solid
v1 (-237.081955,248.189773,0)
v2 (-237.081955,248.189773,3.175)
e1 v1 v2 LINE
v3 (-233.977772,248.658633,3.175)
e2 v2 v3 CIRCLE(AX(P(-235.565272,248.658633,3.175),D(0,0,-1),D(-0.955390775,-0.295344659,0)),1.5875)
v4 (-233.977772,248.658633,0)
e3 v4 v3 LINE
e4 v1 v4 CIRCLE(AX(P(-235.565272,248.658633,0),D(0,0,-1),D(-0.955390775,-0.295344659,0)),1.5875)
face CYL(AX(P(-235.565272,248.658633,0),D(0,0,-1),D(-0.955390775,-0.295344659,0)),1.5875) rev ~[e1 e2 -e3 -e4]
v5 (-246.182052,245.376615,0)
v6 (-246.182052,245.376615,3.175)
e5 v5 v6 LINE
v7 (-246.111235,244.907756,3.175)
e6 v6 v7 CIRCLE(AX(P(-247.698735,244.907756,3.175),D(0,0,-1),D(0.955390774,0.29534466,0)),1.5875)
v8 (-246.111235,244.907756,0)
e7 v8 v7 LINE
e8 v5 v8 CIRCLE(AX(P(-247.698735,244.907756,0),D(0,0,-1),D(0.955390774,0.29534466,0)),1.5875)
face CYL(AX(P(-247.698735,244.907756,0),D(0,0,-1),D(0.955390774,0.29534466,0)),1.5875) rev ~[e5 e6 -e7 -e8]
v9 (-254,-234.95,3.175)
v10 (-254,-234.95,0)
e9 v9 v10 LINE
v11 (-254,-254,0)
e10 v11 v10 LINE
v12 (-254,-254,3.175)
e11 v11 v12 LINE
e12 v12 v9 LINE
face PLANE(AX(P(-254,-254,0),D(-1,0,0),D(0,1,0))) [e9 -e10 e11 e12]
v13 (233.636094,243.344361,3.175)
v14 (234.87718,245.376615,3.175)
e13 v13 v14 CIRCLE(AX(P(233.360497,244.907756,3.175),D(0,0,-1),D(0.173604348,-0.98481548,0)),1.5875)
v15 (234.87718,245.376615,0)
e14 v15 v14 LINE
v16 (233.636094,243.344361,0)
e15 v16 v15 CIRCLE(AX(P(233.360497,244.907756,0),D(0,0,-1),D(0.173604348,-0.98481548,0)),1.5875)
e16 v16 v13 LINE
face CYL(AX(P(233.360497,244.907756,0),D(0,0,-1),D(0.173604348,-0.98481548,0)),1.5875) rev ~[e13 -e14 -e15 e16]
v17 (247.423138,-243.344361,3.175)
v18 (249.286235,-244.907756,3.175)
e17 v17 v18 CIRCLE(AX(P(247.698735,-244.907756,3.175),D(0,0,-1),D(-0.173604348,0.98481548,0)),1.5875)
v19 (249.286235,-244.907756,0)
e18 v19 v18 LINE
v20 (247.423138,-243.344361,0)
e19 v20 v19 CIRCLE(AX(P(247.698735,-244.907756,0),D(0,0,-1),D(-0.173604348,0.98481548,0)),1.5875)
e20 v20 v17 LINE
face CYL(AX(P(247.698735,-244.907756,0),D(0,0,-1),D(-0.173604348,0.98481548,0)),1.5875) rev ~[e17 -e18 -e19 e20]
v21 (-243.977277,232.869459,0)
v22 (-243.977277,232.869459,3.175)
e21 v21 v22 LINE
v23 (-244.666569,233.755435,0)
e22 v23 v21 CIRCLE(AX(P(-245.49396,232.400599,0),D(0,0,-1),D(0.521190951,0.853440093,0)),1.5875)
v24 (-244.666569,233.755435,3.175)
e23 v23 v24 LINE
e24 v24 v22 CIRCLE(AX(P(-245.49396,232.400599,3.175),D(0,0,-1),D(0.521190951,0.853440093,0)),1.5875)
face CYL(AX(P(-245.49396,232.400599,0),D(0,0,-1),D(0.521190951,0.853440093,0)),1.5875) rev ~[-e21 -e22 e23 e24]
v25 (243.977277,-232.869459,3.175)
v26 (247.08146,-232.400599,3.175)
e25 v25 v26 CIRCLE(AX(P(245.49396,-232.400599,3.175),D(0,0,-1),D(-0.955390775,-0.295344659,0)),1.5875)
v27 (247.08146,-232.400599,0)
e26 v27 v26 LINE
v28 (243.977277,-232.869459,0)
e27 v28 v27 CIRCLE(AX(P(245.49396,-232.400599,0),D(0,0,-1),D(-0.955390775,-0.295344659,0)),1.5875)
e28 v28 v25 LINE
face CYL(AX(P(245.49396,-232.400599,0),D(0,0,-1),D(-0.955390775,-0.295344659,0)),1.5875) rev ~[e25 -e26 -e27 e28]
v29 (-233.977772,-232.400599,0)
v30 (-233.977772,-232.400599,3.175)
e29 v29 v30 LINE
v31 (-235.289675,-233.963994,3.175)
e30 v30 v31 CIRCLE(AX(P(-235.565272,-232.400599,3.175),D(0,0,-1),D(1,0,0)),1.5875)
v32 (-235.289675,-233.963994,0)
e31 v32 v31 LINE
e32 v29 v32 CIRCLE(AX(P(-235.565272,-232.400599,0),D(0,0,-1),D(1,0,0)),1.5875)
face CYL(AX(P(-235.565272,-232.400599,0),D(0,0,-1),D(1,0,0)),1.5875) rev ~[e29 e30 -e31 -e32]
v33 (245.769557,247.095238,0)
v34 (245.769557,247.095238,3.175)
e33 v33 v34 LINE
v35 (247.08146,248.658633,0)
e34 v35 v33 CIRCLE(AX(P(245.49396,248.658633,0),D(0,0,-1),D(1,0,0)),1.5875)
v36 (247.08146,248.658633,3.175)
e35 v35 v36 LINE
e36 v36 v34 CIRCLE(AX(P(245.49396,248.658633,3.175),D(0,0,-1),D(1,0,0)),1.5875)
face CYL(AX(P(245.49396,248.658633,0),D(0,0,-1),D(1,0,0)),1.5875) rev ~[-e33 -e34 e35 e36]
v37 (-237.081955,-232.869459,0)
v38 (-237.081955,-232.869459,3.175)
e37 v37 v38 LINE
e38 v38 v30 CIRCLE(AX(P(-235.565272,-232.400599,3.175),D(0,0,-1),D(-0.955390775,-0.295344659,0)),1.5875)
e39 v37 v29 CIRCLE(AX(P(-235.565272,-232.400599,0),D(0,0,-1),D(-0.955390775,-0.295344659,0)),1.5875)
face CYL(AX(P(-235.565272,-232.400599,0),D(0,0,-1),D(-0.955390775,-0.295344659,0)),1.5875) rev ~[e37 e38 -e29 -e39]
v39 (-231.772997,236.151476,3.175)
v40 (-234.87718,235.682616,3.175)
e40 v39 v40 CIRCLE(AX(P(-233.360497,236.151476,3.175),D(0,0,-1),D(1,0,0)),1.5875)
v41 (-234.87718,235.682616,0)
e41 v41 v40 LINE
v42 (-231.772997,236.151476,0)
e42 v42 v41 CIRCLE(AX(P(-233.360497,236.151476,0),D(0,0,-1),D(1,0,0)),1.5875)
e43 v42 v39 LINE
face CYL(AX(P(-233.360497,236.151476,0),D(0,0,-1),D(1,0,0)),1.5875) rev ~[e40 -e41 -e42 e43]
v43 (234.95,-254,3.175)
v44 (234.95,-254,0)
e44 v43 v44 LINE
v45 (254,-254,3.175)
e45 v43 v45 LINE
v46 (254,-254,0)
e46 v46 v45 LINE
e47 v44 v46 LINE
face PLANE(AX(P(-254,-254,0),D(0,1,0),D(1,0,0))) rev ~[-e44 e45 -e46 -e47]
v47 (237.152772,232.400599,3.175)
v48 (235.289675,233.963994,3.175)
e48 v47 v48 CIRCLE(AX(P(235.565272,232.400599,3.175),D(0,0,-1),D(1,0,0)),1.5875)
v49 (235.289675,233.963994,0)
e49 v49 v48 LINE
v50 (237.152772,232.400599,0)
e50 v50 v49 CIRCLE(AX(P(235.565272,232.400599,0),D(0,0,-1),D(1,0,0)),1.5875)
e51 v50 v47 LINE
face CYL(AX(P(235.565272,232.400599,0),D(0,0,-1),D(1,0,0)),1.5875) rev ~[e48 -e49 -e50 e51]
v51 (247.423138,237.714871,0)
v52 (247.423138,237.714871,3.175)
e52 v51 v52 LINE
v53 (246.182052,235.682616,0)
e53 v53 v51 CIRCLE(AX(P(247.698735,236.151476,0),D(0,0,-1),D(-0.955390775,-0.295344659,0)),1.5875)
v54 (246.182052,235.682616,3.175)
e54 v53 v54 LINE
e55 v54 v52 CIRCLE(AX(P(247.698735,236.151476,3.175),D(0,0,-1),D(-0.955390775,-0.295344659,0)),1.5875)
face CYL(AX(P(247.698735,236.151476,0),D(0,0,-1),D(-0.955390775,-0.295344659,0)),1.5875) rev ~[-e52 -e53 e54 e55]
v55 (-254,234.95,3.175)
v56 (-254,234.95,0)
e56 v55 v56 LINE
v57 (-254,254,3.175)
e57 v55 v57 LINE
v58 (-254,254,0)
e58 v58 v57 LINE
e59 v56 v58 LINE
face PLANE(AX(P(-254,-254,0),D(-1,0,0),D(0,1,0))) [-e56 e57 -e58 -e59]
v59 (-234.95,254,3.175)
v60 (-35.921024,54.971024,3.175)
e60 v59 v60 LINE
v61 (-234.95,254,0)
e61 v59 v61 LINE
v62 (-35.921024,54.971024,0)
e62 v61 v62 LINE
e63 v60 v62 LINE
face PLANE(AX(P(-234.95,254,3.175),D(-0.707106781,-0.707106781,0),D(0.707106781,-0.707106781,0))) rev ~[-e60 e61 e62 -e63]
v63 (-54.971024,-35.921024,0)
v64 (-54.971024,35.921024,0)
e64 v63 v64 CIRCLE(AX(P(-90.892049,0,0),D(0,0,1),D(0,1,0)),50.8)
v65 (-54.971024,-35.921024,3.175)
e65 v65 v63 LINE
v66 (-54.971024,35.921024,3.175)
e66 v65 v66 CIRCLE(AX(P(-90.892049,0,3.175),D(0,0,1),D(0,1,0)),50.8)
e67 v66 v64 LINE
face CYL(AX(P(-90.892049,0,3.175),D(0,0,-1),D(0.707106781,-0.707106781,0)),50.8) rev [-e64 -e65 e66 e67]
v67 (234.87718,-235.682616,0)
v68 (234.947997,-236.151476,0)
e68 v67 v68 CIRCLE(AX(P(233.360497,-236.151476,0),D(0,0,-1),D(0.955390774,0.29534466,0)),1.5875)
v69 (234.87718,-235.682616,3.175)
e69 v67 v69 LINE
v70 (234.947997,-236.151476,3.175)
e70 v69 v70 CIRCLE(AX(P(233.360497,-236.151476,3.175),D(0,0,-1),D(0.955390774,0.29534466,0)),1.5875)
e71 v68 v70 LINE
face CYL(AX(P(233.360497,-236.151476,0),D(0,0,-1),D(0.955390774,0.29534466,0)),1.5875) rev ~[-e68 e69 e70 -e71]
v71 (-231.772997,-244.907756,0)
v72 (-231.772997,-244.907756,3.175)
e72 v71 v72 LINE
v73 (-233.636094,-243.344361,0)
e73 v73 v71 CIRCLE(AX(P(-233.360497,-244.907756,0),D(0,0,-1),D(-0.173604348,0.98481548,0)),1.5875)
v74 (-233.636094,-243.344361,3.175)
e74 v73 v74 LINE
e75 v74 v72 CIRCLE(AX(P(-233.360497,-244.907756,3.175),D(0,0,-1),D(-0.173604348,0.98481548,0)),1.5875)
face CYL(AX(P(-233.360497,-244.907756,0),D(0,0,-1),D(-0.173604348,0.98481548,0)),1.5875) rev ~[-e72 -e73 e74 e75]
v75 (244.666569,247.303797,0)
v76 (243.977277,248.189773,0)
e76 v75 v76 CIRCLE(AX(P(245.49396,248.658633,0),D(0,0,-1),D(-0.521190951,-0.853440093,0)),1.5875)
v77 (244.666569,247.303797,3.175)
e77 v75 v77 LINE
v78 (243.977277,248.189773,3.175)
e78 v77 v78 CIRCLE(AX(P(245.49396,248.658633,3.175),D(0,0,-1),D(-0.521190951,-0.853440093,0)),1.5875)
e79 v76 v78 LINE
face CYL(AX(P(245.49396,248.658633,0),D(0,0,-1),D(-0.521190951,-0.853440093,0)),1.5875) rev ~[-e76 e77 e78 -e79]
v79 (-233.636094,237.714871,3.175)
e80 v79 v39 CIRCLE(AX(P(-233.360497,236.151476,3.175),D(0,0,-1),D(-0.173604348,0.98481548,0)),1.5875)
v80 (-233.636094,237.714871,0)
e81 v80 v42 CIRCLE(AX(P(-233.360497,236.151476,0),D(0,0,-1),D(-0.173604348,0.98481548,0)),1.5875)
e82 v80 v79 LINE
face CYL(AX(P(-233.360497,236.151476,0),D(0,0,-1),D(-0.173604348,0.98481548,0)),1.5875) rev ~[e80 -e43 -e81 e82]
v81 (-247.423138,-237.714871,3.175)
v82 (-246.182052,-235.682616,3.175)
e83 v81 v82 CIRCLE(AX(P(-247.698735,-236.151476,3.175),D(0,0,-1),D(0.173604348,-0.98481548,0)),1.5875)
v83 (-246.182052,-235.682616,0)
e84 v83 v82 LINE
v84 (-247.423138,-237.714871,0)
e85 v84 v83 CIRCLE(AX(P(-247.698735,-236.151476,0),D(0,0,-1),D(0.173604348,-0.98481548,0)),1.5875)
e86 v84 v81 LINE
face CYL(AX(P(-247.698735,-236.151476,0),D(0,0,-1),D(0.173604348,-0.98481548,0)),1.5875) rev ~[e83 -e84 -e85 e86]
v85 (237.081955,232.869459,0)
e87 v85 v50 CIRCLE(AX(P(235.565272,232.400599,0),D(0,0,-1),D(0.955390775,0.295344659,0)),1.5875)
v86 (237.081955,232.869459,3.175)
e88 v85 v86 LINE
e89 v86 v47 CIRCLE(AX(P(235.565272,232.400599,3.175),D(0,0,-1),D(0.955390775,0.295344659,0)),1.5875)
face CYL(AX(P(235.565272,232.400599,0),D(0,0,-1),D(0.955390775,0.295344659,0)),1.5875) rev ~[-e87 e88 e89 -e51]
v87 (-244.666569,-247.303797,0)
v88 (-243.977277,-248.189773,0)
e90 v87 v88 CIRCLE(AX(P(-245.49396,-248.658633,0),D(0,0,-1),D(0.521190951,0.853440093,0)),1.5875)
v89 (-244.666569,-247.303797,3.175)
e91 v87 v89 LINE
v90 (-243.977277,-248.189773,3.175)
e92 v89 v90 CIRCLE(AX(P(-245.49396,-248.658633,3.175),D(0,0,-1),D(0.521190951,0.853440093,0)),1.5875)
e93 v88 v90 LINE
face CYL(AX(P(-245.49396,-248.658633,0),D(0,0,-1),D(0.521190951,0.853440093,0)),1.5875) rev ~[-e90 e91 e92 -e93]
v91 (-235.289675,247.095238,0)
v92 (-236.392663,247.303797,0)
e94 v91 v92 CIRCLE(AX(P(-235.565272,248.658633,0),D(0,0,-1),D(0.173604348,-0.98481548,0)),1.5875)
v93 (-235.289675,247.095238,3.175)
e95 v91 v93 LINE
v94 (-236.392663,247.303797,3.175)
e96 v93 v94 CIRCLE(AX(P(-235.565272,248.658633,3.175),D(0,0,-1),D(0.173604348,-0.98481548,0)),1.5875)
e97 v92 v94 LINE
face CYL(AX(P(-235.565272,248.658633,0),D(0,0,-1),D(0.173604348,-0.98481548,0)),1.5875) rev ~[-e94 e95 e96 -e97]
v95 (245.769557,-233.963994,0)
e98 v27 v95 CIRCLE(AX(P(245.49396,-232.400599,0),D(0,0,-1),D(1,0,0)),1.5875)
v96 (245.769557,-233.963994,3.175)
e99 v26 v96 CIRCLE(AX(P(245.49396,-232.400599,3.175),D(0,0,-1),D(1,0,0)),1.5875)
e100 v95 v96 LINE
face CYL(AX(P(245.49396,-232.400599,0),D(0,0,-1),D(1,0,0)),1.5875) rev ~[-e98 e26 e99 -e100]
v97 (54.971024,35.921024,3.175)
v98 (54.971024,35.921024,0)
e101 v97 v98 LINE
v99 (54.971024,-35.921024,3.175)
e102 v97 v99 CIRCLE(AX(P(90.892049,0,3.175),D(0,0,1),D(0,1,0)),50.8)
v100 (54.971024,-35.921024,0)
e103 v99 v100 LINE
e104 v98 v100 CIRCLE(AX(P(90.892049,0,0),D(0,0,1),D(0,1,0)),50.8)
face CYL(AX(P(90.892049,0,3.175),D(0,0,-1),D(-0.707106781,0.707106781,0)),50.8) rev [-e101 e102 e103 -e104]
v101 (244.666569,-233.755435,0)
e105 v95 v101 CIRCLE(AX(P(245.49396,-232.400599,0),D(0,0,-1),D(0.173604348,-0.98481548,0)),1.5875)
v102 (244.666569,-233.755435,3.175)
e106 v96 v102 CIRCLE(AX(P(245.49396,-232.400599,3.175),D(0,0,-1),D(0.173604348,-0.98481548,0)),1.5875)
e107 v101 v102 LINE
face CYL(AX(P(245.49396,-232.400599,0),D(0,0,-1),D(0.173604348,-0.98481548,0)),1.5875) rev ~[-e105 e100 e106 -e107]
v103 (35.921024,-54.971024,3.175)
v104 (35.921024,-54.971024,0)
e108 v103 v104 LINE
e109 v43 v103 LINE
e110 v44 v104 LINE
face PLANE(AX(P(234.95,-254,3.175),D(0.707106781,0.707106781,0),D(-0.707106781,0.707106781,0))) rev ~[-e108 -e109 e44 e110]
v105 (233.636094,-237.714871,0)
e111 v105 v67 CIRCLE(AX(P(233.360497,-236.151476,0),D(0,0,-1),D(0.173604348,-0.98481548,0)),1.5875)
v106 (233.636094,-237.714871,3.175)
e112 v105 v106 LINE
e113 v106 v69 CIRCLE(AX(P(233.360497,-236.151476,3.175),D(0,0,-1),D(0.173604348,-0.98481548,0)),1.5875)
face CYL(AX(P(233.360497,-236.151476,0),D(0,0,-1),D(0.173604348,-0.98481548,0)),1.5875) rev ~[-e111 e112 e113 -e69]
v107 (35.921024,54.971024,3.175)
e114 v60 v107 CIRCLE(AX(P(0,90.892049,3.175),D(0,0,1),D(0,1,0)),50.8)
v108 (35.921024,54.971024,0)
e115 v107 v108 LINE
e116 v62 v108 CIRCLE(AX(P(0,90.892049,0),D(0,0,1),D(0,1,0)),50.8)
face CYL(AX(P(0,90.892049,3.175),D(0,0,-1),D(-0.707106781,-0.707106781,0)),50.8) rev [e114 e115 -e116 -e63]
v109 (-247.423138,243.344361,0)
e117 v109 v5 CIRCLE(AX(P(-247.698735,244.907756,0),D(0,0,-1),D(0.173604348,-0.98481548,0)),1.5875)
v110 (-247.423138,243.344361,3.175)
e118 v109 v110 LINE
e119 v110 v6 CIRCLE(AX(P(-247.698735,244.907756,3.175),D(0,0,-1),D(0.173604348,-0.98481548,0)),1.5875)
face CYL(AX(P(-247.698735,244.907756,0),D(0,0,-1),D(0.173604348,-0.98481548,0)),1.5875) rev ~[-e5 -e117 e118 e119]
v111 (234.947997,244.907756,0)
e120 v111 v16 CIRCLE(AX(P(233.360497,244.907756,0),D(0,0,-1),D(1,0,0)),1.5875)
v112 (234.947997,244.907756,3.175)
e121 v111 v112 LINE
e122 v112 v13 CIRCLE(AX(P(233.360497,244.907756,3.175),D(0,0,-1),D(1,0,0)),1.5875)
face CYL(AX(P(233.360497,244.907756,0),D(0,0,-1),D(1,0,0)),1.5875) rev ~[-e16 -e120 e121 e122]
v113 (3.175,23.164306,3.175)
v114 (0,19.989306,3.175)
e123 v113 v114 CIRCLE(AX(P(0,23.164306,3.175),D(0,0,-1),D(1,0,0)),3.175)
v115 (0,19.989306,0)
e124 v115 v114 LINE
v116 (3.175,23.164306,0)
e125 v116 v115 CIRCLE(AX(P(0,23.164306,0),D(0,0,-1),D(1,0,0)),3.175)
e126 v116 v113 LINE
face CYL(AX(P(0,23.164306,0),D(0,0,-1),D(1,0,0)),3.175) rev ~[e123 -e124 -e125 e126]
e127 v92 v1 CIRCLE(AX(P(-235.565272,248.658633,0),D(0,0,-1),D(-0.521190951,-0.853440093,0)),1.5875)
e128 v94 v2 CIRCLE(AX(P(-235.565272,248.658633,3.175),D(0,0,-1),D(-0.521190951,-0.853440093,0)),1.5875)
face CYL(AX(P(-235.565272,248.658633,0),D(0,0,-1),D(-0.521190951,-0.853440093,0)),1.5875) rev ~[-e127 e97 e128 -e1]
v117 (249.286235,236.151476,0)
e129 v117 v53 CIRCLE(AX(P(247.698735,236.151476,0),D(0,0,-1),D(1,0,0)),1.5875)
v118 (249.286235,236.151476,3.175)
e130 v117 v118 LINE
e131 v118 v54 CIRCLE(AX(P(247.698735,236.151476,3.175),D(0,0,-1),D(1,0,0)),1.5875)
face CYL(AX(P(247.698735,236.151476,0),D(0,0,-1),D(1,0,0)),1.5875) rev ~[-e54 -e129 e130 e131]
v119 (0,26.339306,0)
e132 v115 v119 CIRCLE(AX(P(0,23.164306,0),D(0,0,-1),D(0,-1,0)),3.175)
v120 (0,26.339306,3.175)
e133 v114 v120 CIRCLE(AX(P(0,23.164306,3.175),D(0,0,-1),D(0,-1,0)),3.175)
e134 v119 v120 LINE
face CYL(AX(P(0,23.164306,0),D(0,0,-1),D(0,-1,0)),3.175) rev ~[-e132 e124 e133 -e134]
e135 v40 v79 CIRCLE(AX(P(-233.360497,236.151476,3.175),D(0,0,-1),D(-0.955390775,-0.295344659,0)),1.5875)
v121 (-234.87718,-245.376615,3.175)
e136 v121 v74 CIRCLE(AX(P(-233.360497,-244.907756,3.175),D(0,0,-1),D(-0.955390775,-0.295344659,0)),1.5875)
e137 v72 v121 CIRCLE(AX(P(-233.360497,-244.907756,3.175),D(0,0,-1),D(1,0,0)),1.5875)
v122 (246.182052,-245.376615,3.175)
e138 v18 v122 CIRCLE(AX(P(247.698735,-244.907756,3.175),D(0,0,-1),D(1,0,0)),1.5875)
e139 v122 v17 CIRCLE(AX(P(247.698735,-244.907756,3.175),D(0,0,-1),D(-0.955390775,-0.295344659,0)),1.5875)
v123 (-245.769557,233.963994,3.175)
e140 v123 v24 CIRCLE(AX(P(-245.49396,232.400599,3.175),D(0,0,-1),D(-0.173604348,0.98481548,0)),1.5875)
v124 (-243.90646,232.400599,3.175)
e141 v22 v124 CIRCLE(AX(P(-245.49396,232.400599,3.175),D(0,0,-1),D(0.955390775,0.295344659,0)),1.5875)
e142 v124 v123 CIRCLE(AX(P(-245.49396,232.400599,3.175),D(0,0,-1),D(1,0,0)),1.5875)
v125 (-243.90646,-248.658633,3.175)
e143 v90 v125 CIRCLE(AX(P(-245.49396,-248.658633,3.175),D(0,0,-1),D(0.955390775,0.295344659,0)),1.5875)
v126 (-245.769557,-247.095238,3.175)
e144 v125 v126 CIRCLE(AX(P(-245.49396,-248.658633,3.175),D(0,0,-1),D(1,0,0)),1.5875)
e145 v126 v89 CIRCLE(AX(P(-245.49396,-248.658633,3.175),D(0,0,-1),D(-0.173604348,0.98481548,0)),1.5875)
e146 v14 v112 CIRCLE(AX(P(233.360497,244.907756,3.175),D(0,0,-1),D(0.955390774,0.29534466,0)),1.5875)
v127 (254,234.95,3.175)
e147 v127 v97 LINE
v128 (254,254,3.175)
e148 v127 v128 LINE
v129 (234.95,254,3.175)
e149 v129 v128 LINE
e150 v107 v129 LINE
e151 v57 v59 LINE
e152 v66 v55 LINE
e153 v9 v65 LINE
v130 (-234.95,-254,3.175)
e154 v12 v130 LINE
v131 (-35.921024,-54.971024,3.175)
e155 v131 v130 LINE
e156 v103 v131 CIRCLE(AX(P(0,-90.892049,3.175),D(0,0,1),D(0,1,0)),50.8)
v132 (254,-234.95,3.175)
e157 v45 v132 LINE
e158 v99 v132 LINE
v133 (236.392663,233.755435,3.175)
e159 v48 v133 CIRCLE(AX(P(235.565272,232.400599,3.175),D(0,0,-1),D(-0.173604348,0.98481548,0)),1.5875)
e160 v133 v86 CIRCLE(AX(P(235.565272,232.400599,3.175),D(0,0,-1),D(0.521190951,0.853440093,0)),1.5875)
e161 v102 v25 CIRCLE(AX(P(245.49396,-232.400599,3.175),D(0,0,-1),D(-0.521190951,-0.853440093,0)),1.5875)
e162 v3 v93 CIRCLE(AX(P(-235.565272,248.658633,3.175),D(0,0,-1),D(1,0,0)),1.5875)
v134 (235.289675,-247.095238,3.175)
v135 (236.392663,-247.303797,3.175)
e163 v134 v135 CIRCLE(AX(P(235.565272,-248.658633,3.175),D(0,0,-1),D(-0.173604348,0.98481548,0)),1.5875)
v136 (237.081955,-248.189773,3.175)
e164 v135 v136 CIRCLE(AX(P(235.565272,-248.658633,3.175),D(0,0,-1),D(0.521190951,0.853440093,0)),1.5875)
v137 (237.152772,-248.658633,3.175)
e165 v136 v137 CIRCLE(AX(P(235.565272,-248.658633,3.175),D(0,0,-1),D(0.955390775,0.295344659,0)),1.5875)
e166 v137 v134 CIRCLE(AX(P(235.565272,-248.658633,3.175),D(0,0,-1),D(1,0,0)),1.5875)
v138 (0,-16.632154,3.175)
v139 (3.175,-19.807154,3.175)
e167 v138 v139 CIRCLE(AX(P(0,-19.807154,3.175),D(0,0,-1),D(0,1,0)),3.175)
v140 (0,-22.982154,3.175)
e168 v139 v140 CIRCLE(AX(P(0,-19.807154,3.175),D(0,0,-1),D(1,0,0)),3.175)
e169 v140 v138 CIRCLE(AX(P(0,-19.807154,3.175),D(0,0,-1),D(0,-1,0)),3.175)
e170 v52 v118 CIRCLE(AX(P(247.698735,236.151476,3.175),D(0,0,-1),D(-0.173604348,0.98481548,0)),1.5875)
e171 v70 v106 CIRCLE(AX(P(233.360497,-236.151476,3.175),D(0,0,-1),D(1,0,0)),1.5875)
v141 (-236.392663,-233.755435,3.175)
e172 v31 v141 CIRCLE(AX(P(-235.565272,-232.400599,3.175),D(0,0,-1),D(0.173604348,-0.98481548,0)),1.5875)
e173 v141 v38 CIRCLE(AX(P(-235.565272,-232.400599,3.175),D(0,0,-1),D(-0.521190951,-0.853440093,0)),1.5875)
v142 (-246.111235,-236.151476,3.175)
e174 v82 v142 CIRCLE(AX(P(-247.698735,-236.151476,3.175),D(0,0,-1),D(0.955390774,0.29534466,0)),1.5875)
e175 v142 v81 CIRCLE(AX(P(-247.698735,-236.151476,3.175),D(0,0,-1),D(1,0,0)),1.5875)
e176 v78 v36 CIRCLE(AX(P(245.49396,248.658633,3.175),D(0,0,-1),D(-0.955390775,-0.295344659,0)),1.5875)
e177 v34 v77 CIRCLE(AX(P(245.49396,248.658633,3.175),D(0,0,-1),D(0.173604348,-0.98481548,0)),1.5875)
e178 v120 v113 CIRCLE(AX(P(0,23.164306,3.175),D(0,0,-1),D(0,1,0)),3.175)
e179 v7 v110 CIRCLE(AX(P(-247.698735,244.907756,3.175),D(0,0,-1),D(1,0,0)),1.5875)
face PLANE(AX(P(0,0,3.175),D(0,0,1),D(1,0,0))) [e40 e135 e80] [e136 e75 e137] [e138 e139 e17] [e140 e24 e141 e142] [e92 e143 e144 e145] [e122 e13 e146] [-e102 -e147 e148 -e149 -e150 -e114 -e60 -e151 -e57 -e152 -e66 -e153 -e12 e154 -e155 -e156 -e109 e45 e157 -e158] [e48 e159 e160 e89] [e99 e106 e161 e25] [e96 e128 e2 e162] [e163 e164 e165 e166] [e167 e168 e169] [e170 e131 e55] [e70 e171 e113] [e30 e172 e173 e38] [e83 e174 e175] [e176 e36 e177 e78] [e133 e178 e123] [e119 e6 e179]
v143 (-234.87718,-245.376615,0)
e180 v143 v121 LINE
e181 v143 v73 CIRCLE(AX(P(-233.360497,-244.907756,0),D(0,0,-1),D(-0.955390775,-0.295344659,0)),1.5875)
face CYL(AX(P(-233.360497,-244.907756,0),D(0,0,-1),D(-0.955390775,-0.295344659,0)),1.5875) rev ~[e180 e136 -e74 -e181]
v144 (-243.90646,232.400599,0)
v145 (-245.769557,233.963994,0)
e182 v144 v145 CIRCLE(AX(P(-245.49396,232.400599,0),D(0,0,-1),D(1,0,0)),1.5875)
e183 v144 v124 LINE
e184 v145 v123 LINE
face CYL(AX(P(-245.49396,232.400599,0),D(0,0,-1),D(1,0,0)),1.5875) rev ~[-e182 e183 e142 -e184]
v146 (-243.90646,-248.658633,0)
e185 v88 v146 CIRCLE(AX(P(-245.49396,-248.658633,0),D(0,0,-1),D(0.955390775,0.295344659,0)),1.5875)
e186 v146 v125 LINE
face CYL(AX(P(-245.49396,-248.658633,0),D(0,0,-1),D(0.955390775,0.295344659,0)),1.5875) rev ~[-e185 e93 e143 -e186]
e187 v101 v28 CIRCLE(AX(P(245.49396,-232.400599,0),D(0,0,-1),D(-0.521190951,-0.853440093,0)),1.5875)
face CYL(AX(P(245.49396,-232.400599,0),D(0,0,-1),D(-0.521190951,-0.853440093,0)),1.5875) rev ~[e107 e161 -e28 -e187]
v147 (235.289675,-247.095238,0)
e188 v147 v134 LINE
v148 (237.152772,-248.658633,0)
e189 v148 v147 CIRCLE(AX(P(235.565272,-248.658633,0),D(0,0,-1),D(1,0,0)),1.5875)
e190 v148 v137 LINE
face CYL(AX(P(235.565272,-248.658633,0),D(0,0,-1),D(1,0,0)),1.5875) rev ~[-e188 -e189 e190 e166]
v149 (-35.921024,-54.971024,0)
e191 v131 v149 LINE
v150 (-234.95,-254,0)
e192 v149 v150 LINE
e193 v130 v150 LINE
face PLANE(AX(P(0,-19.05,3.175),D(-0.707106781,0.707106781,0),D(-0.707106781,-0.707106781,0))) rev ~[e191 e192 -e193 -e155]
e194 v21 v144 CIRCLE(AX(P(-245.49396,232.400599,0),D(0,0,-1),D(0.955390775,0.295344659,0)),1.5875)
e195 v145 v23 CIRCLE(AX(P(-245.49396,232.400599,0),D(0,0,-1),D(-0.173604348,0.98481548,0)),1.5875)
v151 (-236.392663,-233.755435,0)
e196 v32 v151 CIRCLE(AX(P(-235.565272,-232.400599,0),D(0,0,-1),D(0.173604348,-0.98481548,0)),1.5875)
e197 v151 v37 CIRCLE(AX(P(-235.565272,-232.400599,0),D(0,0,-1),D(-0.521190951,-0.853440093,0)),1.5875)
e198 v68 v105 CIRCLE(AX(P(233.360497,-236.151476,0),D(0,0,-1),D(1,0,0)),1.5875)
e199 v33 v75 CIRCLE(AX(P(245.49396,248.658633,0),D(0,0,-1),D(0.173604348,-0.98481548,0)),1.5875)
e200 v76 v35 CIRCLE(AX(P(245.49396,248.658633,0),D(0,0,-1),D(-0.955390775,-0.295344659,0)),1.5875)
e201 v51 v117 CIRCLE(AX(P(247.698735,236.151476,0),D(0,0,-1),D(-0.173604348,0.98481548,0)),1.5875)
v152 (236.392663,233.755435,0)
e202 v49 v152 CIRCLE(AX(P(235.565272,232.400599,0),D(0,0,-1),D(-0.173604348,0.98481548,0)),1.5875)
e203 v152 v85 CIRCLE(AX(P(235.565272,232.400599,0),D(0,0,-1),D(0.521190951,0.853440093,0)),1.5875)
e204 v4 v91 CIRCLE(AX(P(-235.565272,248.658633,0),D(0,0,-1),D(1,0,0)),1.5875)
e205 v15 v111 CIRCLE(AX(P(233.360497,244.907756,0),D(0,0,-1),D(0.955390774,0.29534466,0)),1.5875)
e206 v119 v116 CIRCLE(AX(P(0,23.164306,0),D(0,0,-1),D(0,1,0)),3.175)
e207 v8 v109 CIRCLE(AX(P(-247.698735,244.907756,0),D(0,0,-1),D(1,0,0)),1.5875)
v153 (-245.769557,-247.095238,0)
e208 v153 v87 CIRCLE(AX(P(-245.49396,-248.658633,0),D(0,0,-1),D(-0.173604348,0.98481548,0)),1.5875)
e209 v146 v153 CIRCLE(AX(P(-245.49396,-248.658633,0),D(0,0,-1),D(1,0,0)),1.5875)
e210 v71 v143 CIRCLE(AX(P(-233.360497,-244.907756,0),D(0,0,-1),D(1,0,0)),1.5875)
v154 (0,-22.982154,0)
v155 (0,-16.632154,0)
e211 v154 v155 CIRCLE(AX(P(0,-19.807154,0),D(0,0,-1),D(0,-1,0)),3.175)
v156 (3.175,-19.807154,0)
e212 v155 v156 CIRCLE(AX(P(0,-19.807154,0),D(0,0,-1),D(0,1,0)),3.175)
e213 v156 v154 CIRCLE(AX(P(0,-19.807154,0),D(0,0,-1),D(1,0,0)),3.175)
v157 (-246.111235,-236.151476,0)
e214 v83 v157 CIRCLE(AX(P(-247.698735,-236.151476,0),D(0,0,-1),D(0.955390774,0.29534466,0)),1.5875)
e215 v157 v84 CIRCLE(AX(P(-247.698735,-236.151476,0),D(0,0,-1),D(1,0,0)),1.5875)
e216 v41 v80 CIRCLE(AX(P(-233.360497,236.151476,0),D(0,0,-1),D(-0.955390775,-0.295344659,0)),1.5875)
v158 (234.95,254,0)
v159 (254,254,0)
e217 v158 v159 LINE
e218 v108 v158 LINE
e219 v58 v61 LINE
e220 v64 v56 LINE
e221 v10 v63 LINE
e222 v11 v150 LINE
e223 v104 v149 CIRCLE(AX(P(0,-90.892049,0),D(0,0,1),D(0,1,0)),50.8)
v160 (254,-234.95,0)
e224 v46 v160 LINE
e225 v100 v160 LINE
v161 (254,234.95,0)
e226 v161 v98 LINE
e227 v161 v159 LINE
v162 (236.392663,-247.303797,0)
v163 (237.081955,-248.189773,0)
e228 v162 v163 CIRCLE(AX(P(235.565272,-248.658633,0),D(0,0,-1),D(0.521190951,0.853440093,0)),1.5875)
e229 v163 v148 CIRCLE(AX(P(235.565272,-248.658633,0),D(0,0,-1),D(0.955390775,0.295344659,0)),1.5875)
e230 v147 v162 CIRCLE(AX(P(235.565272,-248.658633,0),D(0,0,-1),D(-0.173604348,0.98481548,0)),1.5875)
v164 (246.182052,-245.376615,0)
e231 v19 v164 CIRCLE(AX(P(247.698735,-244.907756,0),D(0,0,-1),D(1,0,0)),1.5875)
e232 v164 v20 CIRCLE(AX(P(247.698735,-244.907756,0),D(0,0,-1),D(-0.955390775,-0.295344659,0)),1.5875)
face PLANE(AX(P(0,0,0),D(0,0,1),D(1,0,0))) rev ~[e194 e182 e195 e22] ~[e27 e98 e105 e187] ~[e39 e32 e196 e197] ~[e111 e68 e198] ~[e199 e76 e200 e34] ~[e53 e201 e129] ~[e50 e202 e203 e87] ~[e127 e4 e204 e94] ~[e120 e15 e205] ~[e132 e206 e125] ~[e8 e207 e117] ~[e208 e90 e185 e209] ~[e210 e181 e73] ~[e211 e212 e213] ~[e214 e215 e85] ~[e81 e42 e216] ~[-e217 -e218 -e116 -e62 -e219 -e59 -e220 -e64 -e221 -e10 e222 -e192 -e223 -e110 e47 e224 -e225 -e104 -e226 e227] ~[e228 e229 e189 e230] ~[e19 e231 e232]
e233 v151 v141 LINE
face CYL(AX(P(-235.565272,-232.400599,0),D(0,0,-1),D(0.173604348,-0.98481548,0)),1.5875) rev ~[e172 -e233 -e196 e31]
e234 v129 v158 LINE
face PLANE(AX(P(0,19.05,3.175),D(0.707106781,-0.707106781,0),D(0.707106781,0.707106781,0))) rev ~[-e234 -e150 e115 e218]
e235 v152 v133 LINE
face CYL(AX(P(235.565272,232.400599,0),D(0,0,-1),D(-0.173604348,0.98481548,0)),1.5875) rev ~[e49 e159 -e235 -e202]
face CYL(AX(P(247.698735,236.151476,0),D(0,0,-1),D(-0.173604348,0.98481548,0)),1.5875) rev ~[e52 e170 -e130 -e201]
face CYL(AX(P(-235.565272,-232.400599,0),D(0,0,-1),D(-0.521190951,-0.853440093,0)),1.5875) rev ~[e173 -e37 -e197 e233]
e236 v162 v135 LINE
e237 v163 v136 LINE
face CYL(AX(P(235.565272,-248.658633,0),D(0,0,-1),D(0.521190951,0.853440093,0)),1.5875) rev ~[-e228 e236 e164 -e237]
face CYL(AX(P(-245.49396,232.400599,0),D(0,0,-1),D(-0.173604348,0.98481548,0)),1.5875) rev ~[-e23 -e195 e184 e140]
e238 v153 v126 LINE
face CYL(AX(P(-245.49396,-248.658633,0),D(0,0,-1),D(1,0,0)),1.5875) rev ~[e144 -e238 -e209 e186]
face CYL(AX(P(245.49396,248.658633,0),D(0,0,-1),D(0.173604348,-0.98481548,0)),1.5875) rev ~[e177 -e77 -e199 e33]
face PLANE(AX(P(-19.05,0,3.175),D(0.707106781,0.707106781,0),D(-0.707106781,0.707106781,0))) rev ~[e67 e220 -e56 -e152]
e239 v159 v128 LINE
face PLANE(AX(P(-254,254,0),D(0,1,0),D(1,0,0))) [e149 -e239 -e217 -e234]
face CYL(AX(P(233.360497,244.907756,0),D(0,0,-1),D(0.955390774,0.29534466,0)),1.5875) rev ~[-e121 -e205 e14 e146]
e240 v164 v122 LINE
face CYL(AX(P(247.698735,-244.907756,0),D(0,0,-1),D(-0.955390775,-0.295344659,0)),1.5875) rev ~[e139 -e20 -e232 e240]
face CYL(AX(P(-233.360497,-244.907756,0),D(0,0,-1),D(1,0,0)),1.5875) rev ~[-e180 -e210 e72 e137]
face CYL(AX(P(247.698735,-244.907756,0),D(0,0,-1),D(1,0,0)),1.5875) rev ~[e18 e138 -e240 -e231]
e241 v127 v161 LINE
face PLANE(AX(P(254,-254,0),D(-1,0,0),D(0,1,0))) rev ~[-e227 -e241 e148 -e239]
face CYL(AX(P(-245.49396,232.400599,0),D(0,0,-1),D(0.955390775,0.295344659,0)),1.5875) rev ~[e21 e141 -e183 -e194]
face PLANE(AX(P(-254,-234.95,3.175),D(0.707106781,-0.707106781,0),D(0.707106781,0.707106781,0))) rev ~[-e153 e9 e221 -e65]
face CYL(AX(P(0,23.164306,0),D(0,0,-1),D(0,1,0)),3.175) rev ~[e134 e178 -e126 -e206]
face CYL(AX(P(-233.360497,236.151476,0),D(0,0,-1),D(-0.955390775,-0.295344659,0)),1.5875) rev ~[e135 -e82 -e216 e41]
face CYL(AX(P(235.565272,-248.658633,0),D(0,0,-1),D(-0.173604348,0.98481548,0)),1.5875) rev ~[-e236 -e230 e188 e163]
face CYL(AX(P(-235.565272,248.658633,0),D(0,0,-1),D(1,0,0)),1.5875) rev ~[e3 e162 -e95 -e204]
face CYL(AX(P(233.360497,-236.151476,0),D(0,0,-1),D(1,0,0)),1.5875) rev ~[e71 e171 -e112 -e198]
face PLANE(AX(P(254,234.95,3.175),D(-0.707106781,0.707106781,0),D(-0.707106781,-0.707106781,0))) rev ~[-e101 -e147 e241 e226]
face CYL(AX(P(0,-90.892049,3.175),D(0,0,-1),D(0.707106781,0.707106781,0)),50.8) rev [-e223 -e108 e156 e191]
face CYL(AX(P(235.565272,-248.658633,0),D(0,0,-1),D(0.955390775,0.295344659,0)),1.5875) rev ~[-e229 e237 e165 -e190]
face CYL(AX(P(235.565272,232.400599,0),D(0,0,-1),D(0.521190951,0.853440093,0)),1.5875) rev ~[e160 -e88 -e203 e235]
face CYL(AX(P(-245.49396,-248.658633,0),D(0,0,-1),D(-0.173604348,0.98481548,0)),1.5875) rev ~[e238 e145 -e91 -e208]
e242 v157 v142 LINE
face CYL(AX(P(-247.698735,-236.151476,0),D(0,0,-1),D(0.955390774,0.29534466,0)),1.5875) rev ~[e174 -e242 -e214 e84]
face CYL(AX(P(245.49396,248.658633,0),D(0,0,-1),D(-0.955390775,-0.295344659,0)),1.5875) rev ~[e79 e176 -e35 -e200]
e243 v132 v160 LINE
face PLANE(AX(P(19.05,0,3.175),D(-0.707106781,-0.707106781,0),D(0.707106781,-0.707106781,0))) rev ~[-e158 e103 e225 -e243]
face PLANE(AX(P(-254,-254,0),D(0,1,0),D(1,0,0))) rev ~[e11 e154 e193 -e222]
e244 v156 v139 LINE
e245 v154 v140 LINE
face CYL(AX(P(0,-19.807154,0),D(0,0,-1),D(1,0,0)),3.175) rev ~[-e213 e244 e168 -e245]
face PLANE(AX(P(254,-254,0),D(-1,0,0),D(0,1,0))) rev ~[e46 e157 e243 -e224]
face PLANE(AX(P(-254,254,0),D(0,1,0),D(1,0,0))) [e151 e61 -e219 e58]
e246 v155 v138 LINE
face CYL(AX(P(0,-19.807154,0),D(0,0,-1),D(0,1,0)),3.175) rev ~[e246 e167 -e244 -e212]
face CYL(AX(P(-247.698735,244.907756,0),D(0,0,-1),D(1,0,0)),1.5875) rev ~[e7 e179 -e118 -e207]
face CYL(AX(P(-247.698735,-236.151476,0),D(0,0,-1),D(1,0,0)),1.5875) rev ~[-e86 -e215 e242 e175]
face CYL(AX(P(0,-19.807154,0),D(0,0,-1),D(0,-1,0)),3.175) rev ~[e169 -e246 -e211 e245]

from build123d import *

# Parameters (mm, degrees)
F0_W     = 508
F0_H     = 508
F1_DEPTH = 3.175
F3_DEPTH = 3.176
F4_R     = 50.8
F6_DEPTH = 3.176


with BuildPart() as f1:
    # F0 (on Top) → F1 (new body)
    with BuildSketch(Plane.XY):
        Rectangle(F0_W, F0_H)
    extrude(amount=F1_DEPTH)

    # F2 (on face) → F3 (cut, through all)
    with BuildSketch(Plane.XY.offset(3.175)):
        Polygon((-19.05, 0), (-254, 234.95), (-254, -234.95), align=None)
        Polygon((-234.95, 254), (0, 19.05), (234.95, 254), align=None)
        Polygon((254, -234.95), (254, 234.95), (19.05, 0), align=None)
        Polygon((-234.95, -254), (234.95, -254), (0, -19.05), align=None)
    extrude(amount=-F3_DEPTH, mode=Mode.SUBTRACT)

    # F4
    f4_edges = [f1.edges().sort_by_distance(p)[0] for p in [
        (-19.05, 0, 1.5875),
        (0, -19.05, 1.5875),
        (19.05, 0, 1.5875),
        (0, 19.05, 1.5875),
    ]]
    fillet(f4_edges, radius=F4_R)

    # F5 (on face) → F6 (cut, through all)
    with BuildSketch(Plane(origin=(0, 0, 0), x_dir=(1, 0, 0), z_dir=(0, 0, -1))):
        with BuildLine():
            ThreePointArc((-235.2896751078, -247.0952381308), (-235.8602181666, -247.0987727715), (-236.3926626451, -247.3037965579))
            Line((-236.3926626451, -247.3037965579), (-235.5652720105, -248.6586327059))
            Line((-235.5652720105, -248.6586327059), (-235.2896751078, -247.0952381308))
        make_face()
        with BuildLine():
            Line((-235.5652720105, -248.6586327059), (-236.3926626451, -247.3037965579))
            ThreePointArc((-236.3926626451, -247.3037965579), (-236.8182319942, -247.6838262999), (-237.0819548651, -248.189773059))
            Line((-237.0819548651, -248.189773059), (-235.5652720105, -248.6586327059))
        make_face()
        with BuildLine():
            ThreePointArc((-233.9777720105, -248.6586327059), (-234.3491991646, -247.6381803143), (-235.2896751078, -247.0952381308))
            Line((-235.2896751078, -247.0952381308), (-235.5652720105, -248.6586327059))
            Line((-235.5652720105, -248.6586327059), (-237.0819548651, -248.189773059))
            ThreePointArc((-237.0819548651, -248.189773059), (-235.8023608316, -250.2283285811), (-233.9777720105, -248.6586327059))
        make_face()
        with BuildLine():
            Line((-247.6987348476, -244.9077555312), (-247.423137945, -243.3443609562))
            ThreePointArc((-247.423137945, -243.3443609562), (-249.0535709955, -245.7351461659), (-246.182051993, -245.376615178))
            Line((-246.182051993, -245.376615178), (-247.6987348476, -244.9077555312))
        make_face()
        with BuildLine():
            ThreePointArc((-244.6665689917, -233.7554350788), (-244.2409996426, -233.3754053369), (-243.9772767717, -232.8694585778))
            Line((-243.9772767717, -232.8694585778), (-245.4939596263, -232.4005989309))
            Line((-245.4939596263, -232.4005989309), (-244.6665689917, -233.7554350788))
        make_face()
        with BuildLine():
            ThreePointArc((-245.769556529, -233.963993506), (-245.1990134701, -233.9604588653), (-244.6665689917, -233.7554350788))
            Line((-244.6665689917, -233.7554350788), (-245.4939596263, -232.4005989309))
            Line((-245.4939596263, -232.4005989309), (-245.769556529, -233.963993506))
        make_face()
        with BuildLine():
            Line((-245.4939596263, -232.4005989309), (-243.9772767717, -232.8694585778))
            ThreePointArc((-243.9772767717, -232.8694585778), (-243.9242637511, -232.6376877521), (-243.9064596263, -232.4005989309))
            ThreePointArc((-243.9064596263, -232.4005989309), (-246.5144120179, -231.1845260851), (-245.769556529, -233.963993506))
            Line((-245.769556529, -233.963993506), (-245.4939596263, -232.4005989309))
        make_face()
        with BuildLine():
            ThreePointArc((-231.7729967892, -236.1514761056), (-233.123407968, -234.5817802303), (-234.8771796438, -235.6826164588))
            Line((-234.8771796438, -235.6826164588), (-233.3604967892, -236.1514761056))
            Line((-233.3604967892, -236.1514761056), (-233.6360936918, -237.7148706806))
            ThreePointArc((-233.6360936918, -237.7148706806), (-232.3400443976, -237.3675489515), (-231.7729967892, -236.1514761056))
        make_face()
        with BuildLine():
            Line((-233.3604967892, -236.1514761056), (-234.8771796438, -235.6826164588))
            ThreePointArc((-234.8771796438, -235.6826164588), (-234.7153329371, -236.9788667402), (-233.6360936918, -237.7148706806))
            Line((-233.6360936918, -237.7148706806), (-233.3604967892, -236.1514761056))
        make_face()
        with BuildLine():
            ThreePointArc((-246.1112348476, -244.9077555312), (-246.4826620017, -243.8873031396), (-247.423137945, -243.3443609562))
            Line((-247.423137945, -243.3443609562), (-247.6987348476, -244.9077555312))
            Line((-247.6987348476, -244.9077555312), (-246.182051993, -245.376615178))
            ThreePointArc((-246.182051993, -245.376615178), (-246.1290389723, -245.1448443524), (-246.1112348476, -244.9077555312))
        make_face()
        with BuildLine():
            Line((-233.3604967892, 244.9077555312), (-233.6360936918, 243.3443609562))
            ThreePointArc((-233.6360936918, 243.3443609562), (-232.3400443976, 243.6916826853), (-231.7729967892, 244.9077555312))
            ThreePointArc((-231.7729967892, 244.9077555312), (-233.123407968, 246.4774514065), (-234.8771796438, 245.376615178))
            Line((-234.8771796438, 245.376615178), (-233.3604967892, 244.9077555312))
        make_face()
        with BuildLine():
            ThreePointArc((-234.8771796438, 245.376615178), (-234.7153329371, 244.0803648965), (-233.6360936918, 243.3443609562))
            Line((-233.6360936918, 243.3443609562), (-233.3604967892, 244.9077555312))
            Line((-233.3604967892, 244.9077555312), (-234.8771796438, 245.376615178))
        make_face()
        with BuildLine():
            Line((-245.4939596263, 248.6586327059), (-244.6665689917, 247.3037965579))
            ThreePointArc((-244.6665689917, 247.3037965579), (-244.2409996426, 247.6838262999), (-243.9772767717, 248.189773059))
            Line((-243.9772767717, 248.189773059), (-245.4939596263, 248.6586327059))
        make_face()
        with BuildLine():
            ThreePointArc((-245.769556529, 247.0952381308), (-245.1990134701, 247.0987727715), (-244.6665689917, 247.3037965579))
            Line((-244.6665689917, 247.3037965579), (-245.4939596263, 248.6586327059))
            Line((-245.4939596263, 248.6586327059), (-245.769556529, 247.0952381308))
        make_face()
        with BuildLine():
            ThreePointArc((-243.9064596263, 248.6586327059), (-246.5144120179, 249.8747055517), (-245.769556529, 247.0952381308))
            Line((-245.769556529, 247.0952381308), (-245.4939596263, 248.6586327059))
            Line((-245.4939596263, 248.6586327059), (-243.9772767717, 248.189773059))
            ThreePointArc((-243.9772767717, 248.189773059), (-243.9242637511, 248.4215438847), (-243.9064596263, 248.6586327059))
        make_face()
        with BuildLine():
            ThreePointArc((-246.1112348476, 236.1514761056), (-246.4826620017, 237.1719284972), (-247.423137945, 237.7148706806))
            Line((-247.423137945, 237.7148706806), (-247.6987348476, 236.1514761056))
            Line((-247.6987348476, 236.1514761056), (-246.182051993, 235.6826164588))
            ThreePointArc((-246.182051993, 235.6826164588), (-246.1290389723, 235.9143872844), (-246.1112348476, 236.1514761056))
        make_face()
        with BuildLine():
            Line((-247.6987348476, 236.1514761056), (-247.423137945, 237.7148706806))
            ThreePointArc((-247.423137945, 237.7148706806), (-249.0535709955, 235.3240854709), (-246.182051993, 235.6826164588))
            Line((-246.182051993, 235.6826164588), (-247.6987348476, 236.1514761056))
        make_face()
        with BuildLine():
            ThreePointArc((-233.9777720105, 232.4005989309), (-234.3491991646, 233.4210513225), (-235.2896751078, 233.963993506))
            Line((-235.2896751078, 233.963993506), (-235.5652720105, 232.4005989309))
            Line((-235.5652720105, 232.4005989309), (-237.0819548651, 232.8694585778))
            ThreePointArc((-237.0819548651, 232.8694585778), (-235.8023608316, 230.8309030557), (-233.9777720105, 232.4005989309))
        make_face()
        with BuildLine():
            Line((-235.5652720105, 232.4005989309), (-235.2896751078, 233.963993506))
            ThreePointArc((-235.2896751078, 233.963993506), (-235.8602181666, 233.9604588653), (-236.3926626451, 233.7554350788))
            Line((-236.3926626451, 233.7554350788), (-235.5652720105, 232.4005989309))
        make_face()
        with BuildLine():
            Line((-235.5652720105, 232.4005989309), (-236.3926626451, 233.7554350788))
            ThreePointArc((-236.3926626451, 233.7554350788), (-236.8182319942, 233.3754053369), (-237.0819548651, 232.8694585778))
            Line((-237.0819548651, 232.8694585778), (-235.5652720105, 232.4005989309))
        make_face()
        with BuildLine():
            Line((247.6987348476, 244.9077555312), (247.423137945, 243.3443609562))
            ThreePointArc((247.423137945, 243.3443609562), (248.7191872392, 243.6916826853), (249.2862348476, 244.9077555312))
            ThreePointArc((249.2862348476, 244.9077555312), (247.9358236688, 246.4774514065), (246.182051993, 245.376615178))
            Line((246.182051993, 245.376615178), (247.6987348476, 244.9077555312))
        make_face()
        with BuildLine():
            ThreePointArc((246.182051993, 245.376615178), (246.3438986997, 244.0803648965), (247.423137945, 243.3443609562))
            Line((247.423137945, 243.3443609562), (247.6987348476, 244.9077555312))
            Line((247.6987348476, 244.9077555312), (246.182051993, 245.376615178))
        make_face()
        with BuildLine():
            ThreePointArc((245.769556529, 233.963993506), (245.1990134701, 233.9604588653), (244.6665689917, 233.7554350788))
            Line((244.6665689917, 233.7554350788), (245.4939596263, 232.4005989309))
            Line((245.4939596263, 232.4005989309), (245.769556529, 233.963993506))
        make_face()
        with BuildLine():
            Line((245.4939596263, 232.4005989309), (243.9772767717, 232.8694585778))
            ThreePointArc((243.9772767717, 232.8694585778), (245.2568708052, 230.8309030557), (247.0814596263, 232.4005989309))
            ThreePointArc((247.0814596263, 232.4005989309), (246.7100324722, 233.4210513225), (245.769556529, 233.963993506))
            Line((245.769556529, 233.963993506), (245.4939596263, 232.4005989309))
        make_face()
        with BuildLine():
            ThreePointArc((244.6665689917, 233.7554350788), (244.2409996426, 233.3754053369), (243.9772767717, 232.8694585778))
            Line((243.9772767717, 232.8694585778), (245.4939596263, 232.4005989309))
            Line((245.4939596263, 232.4005989309), (244.6665689917, 233.7554350788))
        make_face()
        with BuildLine():
            ThreePointArc((233.6360936918, 237.7148706806), (232.0056606413, 235.3240854709), (234.8771796438, 235.6826164588))
            Line((234.8771796438, 235.6826164588), (233.3604967892, 236.1514761056))
            Line((233.3604967892, 236.1514761056), (233.6360936918, 237.7148706806))
        make_face()
        with BuildLine():
            Line((233.3604967892, 236.1514761056), (234.8771796438, 235.6826164588))
            ThreePointArc((234.8771796438, 235.6826164588), (234.9301926645, 235.9143872844), (234.9479967892, 236.1514761056))
            ThreePointArc((234.9479967892, 236.1514761056), (234.5765696351, 237.1719284972), (233.6360936918, 237.7148706806))
            Line((233.6360936918, 237.7148706806), (233.3604967892, 236.1514761056))
        make_face()
        with BuildLine():
            ThreePointArc((235.2896751078, 247.0952381308), (235.8602181666, 247.0987727715), (236.3926626451, 247.3037965579))
            Line((236.3926626451, 247.3037965579), (235.5652720105, 248.6586327059))
            Line((235.5652720105, 248.6586327059), (235.2896751078, 247.0952381308))
        make_face()
        with BuildLine():
            Line((235.5652720105, 248.6586327059), (236.3926626451, 247.3037965579))
            ThreePointArc((236.3926626451, 247.3037965579), (236.8182319942, 247.6838262999), (237.0819548651, 248.189773059))
            Line((237.0819548651, 248.189773059), (235.5652720105, 248.6586327059))
        make_face()
        with BuildLine():
            ThreePointArc((237.1527720105, 248.6586327059), (234.5448196189, 249.8747055517), (235.2896751078, 247.0952381308))
            Line((235.2896751078, 247.0952381308), (235.5652720105, 248.6586327059))
            Line((235.5652720105, 248.6586327059), (237.0819548651, 248.189773059))
            ThreePointArc((237.0819548651, 248.189773059), (237.1349678857, 248.4215438847), (237.1527720105, 248.6586327059))
        make_face()
        with BuildLine():
            ThreePointArc((247.0814596263, -248.6586327059), (246.7100324722, -247.6381803143), (245.769556529, -247.0952381308))
            Line((245.769556529, -247.0952381308), (245.4939596263, -248.6586327059))
            Line((245.4939596263, -248.6586327059), (243.9772767717, -248.189773059))
            ThreePointArc((243.9772767717, -248.189773059), (245.2568708052, -250.2283285811), (247.0814596263, -248.6586327059))
        make_face()
        with BuildLine():
            Line((245.4939596263, -248.6586327059), (244.6665689917, -247.3037965579))
            ThreePointArc((244.6665689917, -247.3037965579), (244.2409996426, -247.6838262999), (243.9772767717, -248.189773059))
            Line((243.9772767717, -248.189773059), (245.4939596263, -248.6586327059))
        make_face()
        with BuildLine():
            ThreePointArc((245.769556529, -247.0952381308), (245.1990134701, -247.0987727715), (244.6665689917, -247.3037965579))
            Line((244.6665689917, -247.3037965579), (245.4939596263, -248.6586327059))
            Line((245.4939596263, -248.6586327059), (245.769556529, -247.0952381308))
        make_face()
        with BuildLine():
            ThreePointArc((234.9479967892, -244.9077555312), (234.5765696351, -243.8873031396), (233.6360936918, -243.3443609562))
            Line((233.6360936918, -243.3443609562), (233.3604967892, -244.9077555312))
            Line((233.3604967892, -244.9077555312), (234.8771796438, -245.376615178))
            ThreePointArc((234.8771796438, -245.376615178), (234.9301926645, -245.1448443524), (234.9479967892, -244.9077555312))
        make_face()
        with BuildLine():
            Line((233.3604967892, -244.9077555312), (233.6360936918, -243.3443609562))
            ThreePointArc((233.6360936918, -243.3443609562), (232.0056606413, -245.7351461659), (234.8771796438, -245.376615178))
            Line((234.8771796438, -245.376615178), (233.3604967892, -244.9077555312))
        make_face()
        with BuildLine():
            Line((235.5652720105, -232.4005989309), (235.2896751078, -233.963993506))
            ThreePointArc((235.2896751078, -233.963993506), (235.8602181666, -233.9604588653), (236.3926626451, -233.7554350788))
            Line((236.3926626451, -233.7554350788), (235.5652720105, -232.4005989309))
        make_face()
        with BuildLine():
            Line((235.5652720105, -232.4005989309), (236.3926626451, -233.7554350788))
            ThreePointArc((236.3926626451, -233.7554350788), (236.8182319942, -233.3754053369), (237.0819548651, -232.8694585778))
            Line((237.0819548651, -232.8694585778), (235.5652720105, -232.4005989309))
        make_face()
        with BuildLine():
            ThreePointArc((237.1527720105, -232.4005989309), (234.5448196189, -231.1845260851), (235.2896751078, -233.963993506))
            Line((235.2896751078, -233.963993506), (235.5652720105, -232.4005989309))
            Line((235.5652720105, -232.4005989309), (237.0819548651, -232.8694585778))
            ThreePointArc((237.0819548651, -232.8694585778), (237.1349678857, -232.6376877521), (237.1527720105, -232.4005989309))
        make_face()
        with BuildLine():
            ThreePointArc((246.182051993, -235.6826164588), (246.3438986997, -236.9788667402), (247.423137945, -237.7148706806))
            Line((247.423137945, -237.7148706806), (247.6987348476, -236.1514761056))
            Line((247.6987348476, -236.1514761056), (246.182051993, -235.6826164588))
        make_face()
        with BuildLine():
            Line((247.6987348476, -236.1514761056), (247.423137945, -237.7148706806))
            ThreePointArc((247.423137945, -237.7148706806), (248.7191872392, -237.3675489515), (249.2862348476, -236.1514761056))
            ThreePointArc((249.2862348476, -236.1514761056), (247.9358236688, -234.5817802303), (246.182051993, -235.6826164588))
            Line((246.182051993, -235.6826164588), (247.6987348476, -236.1514761056))
        make_face()
        with BuildLine():
            Line((0, 22.9821543127), (0, 16.6321543127))
            ThreePointArc((0, 16.6321543127), (2.2450640303, 17.5620902825), (3.175, 19.8071543127))
            ThreePointArc((3.175, 19.8071543127), (2.2450640303, 22.052218343), (0, 22.9821543127))
        make_face()
        with BuildLine():
            Line((0, -26.339305836), (0, -19.989305836))
            ThreePointArc((0, -19.989305836), (-3.175, -23.164305836), (0, -26.339305836))
        make_face()
        with BuildLine():
            ThreePointArc((3.175, -23.164305836), (2.2450640303, -20.9192418057), (0, -19.989305836))
            Line((0, -19.989305836), (0, -26.339305836))
            ThreePointArc((0, -26.339305836), (2.2450640303, -25.4093698662), (3.175, -23.164305836))
        make_face()
        with BuildLine():
            ThreePointArc((0, 22.9821543127), (-3.175, 19.8071543127), (0, 16.6321543127))
            Line((0, 16.6321543127), (0, 22.9821543127))
        make_face()
    extrude(amount=-F6_DEPTH, mode=Mode.SUBTRACT)


solid = f1.part
